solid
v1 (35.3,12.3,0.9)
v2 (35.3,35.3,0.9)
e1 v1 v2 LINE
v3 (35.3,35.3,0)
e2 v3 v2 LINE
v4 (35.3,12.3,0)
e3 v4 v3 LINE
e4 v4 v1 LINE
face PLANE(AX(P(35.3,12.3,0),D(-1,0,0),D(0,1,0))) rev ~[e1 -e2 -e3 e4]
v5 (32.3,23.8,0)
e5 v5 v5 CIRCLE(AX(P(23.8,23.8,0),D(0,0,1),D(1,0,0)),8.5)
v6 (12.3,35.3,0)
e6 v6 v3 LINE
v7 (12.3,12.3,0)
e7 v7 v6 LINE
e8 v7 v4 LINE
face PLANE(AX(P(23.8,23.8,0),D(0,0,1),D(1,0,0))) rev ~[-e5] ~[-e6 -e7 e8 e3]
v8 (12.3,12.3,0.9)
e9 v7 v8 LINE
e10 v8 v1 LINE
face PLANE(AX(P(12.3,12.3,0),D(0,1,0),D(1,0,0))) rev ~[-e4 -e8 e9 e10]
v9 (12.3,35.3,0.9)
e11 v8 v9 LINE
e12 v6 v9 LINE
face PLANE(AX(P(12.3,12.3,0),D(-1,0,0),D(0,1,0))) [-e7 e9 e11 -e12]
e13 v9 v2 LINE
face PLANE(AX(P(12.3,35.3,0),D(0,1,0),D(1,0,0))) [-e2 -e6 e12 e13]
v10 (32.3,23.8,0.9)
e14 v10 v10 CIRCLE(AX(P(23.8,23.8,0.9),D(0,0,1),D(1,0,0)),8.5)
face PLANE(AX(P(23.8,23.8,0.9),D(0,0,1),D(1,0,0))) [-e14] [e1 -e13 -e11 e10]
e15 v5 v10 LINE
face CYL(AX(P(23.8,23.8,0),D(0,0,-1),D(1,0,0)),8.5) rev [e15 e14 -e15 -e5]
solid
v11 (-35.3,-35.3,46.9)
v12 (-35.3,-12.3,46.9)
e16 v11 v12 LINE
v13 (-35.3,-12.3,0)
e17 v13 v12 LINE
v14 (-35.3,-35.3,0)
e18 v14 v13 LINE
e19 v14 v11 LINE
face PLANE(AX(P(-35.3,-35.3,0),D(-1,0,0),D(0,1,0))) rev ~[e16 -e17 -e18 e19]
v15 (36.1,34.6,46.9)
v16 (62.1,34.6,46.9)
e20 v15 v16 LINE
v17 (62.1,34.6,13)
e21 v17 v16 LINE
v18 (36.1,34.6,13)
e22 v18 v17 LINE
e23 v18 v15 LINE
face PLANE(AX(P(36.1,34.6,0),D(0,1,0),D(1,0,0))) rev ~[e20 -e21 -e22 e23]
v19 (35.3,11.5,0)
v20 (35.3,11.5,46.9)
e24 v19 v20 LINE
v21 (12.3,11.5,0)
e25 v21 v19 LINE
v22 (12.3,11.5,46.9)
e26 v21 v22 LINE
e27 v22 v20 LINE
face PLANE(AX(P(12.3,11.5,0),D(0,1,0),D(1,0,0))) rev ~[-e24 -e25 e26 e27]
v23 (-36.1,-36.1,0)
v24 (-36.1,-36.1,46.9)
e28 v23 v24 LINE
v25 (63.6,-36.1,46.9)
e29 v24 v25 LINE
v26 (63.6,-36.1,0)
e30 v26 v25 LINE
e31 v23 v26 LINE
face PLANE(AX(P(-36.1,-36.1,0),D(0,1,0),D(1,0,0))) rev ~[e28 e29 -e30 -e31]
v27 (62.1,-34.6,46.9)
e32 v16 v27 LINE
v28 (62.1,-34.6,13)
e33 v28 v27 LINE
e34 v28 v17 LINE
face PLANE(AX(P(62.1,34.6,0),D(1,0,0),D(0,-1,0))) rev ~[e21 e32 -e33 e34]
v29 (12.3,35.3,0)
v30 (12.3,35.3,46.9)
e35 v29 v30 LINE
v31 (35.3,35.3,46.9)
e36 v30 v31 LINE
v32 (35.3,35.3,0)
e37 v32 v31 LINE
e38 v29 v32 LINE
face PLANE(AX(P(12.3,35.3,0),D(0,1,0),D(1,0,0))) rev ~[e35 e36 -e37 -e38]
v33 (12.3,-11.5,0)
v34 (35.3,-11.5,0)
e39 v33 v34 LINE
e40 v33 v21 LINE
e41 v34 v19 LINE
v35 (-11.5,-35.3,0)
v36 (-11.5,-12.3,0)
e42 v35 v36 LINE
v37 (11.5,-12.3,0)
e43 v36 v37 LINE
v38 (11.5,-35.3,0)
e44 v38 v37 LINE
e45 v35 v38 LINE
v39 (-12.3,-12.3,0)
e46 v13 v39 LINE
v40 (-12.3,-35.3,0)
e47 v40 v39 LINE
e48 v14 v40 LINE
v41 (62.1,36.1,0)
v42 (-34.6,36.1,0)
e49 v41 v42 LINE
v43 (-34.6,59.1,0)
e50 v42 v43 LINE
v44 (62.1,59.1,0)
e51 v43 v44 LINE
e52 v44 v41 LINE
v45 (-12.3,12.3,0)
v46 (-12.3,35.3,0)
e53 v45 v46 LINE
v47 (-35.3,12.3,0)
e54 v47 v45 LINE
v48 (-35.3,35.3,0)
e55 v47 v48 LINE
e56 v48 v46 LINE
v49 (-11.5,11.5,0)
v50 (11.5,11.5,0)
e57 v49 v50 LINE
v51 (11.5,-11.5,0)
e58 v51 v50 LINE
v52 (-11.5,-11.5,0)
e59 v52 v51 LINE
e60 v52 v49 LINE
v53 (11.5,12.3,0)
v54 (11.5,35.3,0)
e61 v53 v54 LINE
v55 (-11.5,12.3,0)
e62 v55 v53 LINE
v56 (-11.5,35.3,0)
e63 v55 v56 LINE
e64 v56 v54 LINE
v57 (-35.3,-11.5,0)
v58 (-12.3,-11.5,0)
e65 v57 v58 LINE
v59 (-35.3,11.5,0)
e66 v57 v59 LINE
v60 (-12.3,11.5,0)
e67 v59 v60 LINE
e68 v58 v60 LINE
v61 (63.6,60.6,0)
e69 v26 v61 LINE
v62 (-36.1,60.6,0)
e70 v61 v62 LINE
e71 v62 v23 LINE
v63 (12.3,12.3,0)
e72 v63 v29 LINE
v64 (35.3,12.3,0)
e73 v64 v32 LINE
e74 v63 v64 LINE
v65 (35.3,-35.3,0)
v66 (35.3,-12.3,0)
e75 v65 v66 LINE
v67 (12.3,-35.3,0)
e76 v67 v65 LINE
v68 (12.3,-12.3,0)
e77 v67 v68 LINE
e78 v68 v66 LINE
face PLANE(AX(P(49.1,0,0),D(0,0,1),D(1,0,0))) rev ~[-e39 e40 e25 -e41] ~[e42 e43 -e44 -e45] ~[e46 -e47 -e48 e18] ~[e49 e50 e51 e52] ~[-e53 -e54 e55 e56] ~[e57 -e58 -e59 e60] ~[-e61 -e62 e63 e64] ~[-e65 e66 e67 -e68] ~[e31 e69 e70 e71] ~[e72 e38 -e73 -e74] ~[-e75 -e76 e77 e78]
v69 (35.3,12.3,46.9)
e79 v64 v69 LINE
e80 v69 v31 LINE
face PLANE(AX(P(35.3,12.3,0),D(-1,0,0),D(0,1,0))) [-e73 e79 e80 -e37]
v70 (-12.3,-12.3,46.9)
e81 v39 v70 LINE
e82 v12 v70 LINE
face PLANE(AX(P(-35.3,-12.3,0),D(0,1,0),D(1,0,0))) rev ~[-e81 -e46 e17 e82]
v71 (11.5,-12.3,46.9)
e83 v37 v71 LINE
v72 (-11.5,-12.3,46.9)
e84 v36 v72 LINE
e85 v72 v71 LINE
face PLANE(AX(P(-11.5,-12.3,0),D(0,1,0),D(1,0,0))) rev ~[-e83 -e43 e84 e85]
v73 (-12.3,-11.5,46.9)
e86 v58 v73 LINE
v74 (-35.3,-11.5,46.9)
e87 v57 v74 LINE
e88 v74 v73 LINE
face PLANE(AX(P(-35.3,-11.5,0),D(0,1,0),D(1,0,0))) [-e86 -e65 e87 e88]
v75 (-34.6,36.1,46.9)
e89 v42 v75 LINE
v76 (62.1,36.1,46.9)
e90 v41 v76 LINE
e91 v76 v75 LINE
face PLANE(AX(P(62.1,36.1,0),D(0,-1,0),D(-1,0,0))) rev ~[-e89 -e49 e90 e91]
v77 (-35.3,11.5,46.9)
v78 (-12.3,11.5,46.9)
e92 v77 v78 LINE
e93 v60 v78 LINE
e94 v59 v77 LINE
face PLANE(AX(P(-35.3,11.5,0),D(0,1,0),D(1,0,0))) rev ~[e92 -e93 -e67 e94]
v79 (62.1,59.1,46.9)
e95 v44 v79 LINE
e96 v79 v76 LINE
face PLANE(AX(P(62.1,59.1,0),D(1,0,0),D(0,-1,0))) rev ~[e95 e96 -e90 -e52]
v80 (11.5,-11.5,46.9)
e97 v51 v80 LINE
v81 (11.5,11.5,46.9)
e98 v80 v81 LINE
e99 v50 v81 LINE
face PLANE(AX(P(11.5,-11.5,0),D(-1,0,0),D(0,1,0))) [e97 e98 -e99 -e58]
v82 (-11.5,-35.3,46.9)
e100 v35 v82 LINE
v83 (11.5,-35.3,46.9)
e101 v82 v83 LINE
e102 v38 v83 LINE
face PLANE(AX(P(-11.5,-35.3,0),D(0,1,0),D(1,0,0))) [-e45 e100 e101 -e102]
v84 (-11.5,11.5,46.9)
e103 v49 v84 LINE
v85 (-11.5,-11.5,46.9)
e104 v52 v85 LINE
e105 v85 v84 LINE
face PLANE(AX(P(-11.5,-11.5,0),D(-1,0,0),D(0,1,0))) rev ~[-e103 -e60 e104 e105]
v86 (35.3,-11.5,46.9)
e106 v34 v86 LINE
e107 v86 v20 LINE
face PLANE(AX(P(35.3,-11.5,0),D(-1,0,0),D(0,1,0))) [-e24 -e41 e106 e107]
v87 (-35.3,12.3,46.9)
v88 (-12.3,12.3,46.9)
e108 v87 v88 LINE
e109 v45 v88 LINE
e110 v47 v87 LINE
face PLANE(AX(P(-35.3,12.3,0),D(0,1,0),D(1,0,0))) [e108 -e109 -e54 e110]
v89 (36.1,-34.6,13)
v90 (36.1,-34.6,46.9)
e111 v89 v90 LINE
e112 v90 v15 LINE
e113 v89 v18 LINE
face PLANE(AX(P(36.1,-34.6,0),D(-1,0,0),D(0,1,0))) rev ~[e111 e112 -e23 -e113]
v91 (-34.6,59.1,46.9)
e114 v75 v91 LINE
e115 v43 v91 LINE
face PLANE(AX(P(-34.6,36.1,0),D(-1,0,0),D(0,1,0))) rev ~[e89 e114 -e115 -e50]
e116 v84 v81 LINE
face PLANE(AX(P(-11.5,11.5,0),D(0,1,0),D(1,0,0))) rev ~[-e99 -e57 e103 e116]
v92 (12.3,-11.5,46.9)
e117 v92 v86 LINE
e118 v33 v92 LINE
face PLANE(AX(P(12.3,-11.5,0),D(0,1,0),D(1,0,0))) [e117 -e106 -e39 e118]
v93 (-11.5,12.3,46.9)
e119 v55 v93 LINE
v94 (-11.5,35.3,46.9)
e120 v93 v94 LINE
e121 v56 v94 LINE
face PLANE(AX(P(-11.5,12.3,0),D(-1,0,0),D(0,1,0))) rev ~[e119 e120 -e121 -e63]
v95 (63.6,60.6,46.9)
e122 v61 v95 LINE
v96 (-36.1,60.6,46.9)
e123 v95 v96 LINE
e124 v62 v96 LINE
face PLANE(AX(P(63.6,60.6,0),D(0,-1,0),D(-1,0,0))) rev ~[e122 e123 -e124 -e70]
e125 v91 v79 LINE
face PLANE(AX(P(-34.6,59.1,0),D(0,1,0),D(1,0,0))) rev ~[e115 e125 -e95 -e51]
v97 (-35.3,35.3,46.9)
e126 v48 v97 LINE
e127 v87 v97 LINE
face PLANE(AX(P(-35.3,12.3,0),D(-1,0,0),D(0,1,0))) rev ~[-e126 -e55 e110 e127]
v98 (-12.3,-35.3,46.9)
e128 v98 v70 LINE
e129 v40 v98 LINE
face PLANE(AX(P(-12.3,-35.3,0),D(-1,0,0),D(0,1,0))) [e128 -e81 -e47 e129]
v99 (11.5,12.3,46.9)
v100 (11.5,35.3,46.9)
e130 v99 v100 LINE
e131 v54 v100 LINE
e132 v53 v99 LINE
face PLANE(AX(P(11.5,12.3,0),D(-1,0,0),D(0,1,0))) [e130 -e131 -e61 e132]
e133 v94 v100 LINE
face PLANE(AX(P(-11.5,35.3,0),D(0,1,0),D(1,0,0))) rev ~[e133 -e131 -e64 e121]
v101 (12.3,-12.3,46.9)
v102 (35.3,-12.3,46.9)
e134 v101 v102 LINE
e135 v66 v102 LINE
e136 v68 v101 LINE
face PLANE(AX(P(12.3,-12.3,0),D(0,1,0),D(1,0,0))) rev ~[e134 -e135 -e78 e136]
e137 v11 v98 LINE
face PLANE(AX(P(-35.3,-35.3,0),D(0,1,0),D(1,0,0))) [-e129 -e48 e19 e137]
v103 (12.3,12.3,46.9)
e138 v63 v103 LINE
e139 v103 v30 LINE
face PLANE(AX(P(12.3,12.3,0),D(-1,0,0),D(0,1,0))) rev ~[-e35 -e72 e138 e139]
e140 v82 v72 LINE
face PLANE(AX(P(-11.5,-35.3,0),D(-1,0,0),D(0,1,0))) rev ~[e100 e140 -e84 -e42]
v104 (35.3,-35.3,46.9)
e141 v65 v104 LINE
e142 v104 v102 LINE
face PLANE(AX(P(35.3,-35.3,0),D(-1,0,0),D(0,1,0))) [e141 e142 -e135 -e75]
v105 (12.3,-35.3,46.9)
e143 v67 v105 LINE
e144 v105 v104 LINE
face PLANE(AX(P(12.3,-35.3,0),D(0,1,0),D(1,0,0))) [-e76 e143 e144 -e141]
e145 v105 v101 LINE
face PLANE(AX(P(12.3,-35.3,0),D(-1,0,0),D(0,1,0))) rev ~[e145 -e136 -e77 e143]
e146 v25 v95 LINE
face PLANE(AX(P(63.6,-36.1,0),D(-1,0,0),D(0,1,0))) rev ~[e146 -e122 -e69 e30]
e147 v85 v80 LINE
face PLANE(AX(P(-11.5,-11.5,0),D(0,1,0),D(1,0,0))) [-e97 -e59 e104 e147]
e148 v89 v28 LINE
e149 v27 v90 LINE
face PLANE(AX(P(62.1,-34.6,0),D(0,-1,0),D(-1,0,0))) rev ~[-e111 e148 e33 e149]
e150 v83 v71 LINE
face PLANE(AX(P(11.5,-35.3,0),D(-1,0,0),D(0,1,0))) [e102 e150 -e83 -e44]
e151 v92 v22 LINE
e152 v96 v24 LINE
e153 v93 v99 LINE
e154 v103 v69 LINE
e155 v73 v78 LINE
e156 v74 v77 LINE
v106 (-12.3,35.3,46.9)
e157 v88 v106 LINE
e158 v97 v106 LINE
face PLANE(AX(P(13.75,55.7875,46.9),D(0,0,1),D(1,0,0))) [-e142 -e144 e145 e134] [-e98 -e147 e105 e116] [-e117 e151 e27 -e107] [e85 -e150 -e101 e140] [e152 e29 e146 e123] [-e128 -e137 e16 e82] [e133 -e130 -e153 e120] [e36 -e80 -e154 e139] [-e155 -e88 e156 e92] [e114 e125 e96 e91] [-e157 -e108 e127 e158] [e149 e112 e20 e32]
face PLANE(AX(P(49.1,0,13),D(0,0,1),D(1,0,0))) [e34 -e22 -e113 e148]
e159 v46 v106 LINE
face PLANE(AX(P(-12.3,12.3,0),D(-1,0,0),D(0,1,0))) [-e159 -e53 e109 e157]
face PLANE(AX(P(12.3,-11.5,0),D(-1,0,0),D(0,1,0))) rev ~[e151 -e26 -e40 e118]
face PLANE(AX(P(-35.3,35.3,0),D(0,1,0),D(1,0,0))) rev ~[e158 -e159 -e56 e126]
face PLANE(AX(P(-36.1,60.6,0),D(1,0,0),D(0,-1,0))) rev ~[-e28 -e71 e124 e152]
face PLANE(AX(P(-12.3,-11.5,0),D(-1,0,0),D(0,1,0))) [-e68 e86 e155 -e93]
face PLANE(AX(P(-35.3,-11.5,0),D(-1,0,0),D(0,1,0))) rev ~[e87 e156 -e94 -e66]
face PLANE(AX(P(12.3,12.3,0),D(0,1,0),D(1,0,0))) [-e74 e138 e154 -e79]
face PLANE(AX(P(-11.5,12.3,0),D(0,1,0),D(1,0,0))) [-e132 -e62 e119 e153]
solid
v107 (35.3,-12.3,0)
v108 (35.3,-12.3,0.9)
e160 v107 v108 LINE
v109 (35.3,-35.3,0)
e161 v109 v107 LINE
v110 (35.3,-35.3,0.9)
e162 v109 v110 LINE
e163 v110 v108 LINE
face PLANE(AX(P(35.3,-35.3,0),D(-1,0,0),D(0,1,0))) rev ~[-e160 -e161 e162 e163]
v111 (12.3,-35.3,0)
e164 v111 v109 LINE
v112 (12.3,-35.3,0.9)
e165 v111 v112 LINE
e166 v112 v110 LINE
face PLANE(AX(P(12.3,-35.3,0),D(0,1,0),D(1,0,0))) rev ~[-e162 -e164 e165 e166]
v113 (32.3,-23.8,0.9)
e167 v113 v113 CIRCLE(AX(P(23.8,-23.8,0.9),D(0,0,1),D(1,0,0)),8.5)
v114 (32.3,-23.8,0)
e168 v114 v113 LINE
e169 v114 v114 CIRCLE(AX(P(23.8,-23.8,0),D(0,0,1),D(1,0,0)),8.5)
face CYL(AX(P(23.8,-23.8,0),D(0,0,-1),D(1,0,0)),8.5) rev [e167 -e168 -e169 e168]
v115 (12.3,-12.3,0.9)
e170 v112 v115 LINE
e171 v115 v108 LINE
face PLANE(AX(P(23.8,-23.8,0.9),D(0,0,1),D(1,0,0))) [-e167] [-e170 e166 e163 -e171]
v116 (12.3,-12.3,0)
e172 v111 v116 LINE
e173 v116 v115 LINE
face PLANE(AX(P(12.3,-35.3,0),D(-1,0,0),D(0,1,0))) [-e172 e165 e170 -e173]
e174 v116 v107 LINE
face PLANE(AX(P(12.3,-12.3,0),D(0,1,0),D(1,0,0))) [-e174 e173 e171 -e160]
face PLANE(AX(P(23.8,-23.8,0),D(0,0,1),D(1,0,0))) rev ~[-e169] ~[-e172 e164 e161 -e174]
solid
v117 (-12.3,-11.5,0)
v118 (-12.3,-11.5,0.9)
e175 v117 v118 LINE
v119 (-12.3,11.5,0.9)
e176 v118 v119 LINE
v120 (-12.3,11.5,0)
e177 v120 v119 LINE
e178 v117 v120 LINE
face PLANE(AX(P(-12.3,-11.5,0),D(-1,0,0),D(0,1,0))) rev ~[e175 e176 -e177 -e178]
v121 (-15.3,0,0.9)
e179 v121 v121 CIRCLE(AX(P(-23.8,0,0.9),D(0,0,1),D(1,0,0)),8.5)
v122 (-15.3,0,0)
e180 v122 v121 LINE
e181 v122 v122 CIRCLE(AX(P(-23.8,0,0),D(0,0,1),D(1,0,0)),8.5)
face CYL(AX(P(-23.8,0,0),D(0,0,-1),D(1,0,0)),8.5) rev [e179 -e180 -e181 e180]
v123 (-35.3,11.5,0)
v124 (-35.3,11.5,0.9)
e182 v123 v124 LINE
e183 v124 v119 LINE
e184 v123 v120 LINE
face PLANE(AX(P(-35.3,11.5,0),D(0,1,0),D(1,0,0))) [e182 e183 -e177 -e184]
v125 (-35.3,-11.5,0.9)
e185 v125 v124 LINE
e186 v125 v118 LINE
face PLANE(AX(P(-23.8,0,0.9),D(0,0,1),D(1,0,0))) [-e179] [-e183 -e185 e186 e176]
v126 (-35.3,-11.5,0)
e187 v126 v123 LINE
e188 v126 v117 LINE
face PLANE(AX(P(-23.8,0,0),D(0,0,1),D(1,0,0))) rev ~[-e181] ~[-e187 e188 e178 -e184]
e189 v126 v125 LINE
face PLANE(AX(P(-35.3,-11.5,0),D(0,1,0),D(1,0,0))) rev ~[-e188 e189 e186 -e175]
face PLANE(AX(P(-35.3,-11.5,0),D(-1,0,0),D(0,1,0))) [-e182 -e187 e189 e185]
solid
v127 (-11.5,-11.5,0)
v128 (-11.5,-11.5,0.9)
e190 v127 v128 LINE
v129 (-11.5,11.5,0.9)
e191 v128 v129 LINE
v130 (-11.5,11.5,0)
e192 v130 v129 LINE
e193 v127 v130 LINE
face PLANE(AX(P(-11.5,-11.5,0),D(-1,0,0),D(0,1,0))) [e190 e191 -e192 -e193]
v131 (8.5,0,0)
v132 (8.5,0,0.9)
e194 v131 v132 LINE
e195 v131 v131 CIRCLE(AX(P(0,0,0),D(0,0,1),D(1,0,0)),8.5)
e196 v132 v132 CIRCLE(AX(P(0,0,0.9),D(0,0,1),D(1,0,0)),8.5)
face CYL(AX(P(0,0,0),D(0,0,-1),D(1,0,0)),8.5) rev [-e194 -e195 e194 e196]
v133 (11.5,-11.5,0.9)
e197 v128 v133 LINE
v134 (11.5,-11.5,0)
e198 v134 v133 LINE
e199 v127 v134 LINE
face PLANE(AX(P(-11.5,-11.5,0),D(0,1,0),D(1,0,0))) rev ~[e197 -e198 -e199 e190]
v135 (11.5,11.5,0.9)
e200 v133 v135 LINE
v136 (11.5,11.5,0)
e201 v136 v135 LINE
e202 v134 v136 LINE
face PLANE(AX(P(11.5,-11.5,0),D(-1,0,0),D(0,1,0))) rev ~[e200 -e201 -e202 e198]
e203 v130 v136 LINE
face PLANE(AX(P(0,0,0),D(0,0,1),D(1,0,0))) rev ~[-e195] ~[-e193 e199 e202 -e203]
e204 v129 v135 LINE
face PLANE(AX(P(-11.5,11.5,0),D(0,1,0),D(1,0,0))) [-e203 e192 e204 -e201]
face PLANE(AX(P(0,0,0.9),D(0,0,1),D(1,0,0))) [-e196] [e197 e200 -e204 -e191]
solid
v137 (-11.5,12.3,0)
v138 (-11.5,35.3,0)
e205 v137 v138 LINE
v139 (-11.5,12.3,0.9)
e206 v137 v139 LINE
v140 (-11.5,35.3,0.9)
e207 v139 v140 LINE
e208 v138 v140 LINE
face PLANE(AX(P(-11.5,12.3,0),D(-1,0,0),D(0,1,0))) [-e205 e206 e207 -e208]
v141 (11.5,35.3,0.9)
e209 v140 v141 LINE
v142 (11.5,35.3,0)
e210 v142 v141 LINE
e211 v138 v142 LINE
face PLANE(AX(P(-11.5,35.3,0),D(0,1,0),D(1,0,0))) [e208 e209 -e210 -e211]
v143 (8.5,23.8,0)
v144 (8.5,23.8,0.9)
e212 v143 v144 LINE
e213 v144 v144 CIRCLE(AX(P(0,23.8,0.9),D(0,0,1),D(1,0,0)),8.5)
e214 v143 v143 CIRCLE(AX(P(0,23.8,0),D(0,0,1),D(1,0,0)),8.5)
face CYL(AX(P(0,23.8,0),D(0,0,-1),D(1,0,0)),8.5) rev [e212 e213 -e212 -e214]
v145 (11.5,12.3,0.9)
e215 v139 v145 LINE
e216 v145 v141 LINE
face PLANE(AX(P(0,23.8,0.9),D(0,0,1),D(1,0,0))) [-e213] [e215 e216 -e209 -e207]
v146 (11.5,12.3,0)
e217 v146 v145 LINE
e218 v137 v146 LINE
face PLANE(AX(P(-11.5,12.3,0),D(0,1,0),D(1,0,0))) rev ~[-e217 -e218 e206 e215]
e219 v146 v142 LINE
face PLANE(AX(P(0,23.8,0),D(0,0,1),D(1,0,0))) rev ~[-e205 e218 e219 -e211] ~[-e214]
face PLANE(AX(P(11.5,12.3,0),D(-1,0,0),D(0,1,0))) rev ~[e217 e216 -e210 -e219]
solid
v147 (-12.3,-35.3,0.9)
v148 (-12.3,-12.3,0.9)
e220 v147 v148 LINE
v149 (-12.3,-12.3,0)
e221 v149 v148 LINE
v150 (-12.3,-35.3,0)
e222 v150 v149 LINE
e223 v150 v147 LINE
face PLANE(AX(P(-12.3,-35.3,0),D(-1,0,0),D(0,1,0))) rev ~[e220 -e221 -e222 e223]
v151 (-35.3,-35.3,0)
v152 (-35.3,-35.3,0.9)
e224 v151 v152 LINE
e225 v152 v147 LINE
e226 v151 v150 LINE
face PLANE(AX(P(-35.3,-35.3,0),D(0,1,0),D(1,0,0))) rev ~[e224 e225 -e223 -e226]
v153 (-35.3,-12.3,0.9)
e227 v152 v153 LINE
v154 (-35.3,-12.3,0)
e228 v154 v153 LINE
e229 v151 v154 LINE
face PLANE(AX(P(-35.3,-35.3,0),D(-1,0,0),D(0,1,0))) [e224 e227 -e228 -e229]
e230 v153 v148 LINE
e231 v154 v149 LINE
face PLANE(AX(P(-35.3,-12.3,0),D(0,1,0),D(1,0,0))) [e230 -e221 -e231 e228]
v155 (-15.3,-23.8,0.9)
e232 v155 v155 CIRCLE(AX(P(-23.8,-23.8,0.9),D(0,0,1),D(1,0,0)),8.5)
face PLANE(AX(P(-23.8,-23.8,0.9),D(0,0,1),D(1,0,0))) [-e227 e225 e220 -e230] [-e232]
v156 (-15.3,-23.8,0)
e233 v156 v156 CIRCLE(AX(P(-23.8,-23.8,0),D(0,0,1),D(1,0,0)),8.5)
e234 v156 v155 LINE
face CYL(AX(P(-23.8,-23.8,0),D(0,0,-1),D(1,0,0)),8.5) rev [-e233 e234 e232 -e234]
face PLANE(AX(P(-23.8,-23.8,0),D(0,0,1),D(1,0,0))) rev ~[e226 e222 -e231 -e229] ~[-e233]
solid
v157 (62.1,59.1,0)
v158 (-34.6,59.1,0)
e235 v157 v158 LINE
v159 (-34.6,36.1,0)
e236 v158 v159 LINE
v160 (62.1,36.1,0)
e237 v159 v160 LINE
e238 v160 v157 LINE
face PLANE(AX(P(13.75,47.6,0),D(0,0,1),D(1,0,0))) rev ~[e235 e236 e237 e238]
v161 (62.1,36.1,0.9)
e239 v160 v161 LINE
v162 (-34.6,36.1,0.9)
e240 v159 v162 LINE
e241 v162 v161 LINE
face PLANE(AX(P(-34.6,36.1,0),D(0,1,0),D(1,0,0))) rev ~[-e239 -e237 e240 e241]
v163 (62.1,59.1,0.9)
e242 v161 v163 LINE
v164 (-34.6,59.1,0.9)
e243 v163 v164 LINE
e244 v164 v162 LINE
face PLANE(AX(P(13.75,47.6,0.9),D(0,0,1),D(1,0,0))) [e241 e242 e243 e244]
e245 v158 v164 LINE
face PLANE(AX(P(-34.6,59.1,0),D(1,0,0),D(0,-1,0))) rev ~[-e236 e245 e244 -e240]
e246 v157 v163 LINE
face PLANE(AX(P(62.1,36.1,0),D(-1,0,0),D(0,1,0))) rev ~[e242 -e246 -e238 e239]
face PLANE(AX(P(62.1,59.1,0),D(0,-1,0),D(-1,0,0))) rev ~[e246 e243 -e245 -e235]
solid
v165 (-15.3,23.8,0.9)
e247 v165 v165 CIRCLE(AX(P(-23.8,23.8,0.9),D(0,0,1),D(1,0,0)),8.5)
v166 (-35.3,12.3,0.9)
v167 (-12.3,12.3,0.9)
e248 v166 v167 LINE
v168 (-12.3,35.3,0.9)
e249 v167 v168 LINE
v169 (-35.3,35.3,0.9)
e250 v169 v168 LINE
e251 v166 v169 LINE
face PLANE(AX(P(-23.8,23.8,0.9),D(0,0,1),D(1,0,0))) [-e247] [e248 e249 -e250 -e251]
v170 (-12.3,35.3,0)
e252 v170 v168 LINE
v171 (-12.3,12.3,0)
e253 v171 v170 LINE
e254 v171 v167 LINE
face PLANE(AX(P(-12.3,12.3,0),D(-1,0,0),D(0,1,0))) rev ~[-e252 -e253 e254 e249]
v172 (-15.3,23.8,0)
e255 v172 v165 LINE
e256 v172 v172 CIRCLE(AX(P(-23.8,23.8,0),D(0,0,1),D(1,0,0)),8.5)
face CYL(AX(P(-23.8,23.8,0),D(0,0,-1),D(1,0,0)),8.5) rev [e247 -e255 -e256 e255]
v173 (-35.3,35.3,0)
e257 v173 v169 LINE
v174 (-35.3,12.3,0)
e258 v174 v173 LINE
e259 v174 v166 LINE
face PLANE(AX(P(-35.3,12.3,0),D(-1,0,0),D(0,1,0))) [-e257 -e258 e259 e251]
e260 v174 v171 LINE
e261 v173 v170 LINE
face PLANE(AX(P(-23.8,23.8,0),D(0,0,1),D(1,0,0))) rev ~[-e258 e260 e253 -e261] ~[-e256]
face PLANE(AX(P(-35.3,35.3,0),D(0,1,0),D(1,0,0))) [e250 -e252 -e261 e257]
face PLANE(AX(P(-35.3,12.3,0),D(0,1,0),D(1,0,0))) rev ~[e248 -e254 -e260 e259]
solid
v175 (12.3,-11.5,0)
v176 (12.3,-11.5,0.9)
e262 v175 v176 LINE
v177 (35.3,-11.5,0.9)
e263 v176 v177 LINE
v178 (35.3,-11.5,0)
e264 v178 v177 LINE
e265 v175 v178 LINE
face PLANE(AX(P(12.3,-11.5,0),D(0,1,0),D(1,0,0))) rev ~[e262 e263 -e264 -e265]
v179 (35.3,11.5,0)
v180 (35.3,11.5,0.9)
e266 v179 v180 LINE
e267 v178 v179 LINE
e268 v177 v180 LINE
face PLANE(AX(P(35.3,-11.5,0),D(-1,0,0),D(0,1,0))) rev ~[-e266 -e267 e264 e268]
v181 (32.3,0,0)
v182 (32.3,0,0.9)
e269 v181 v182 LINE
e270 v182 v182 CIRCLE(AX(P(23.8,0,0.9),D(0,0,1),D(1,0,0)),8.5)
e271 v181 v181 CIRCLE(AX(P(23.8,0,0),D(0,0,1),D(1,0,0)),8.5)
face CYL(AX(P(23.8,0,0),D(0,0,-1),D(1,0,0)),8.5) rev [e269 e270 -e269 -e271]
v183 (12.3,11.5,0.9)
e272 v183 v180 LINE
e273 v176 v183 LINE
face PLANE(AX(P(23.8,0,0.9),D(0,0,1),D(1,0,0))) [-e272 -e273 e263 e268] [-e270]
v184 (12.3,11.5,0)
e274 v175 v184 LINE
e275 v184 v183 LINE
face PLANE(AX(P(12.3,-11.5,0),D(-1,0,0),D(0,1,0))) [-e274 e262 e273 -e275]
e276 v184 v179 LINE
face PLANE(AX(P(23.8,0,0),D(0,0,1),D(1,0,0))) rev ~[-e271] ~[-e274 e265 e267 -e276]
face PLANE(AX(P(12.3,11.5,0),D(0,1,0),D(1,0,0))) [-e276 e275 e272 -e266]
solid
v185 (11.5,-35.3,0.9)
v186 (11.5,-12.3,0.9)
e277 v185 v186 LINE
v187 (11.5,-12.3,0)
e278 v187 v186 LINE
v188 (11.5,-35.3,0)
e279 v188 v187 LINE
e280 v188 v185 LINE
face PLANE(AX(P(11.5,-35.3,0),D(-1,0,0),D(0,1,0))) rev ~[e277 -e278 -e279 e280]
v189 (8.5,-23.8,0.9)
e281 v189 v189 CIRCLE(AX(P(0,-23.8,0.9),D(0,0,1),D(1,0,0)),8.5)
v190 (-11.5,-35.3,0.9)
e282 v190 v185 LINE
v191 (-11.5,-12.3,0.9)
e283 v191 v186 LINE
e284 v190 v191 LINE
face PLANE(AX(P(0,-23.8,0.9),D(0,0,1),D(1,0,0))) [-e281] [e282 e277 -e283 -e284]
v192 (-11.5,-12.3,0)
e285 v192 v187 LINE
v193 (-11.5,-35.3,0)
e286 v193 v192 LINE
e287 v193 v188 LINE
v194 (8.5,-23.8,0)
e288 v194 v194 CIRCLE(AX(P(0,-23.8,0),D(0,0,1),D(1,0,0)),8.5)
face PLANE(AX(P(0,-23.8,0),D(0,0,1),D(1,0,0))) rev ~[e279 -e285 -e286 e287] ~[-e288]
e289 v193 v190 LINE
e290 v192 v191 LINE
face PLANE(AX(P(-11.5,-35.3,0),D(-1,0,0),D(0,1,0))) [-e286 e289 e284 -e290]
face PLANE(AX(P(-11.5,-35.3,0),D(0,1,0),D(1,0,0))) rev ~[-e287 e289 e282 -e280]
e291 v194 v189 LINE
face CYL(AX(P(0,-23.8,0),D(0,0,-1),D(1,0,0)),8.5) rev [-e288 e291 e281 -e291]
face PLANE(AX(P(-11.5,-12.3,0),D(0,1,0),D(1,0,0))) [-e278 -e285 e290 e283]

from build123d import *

# Parameters (mm, degrees)
F0_W     = 23
F0_H     = 23
F0_R     = 8.5
F1_DEPTH = 0.9
F2_DEPTH = 46.9
F0_W_2   = 26
F0_H_2   = 69.2
F3_DEPTH = 13


with BuildPart() as f1:
    # F0 (on Top) → F1 (new body)
    with BuildSketch(Plane.XY):
        with Locations((-23.8, 23.8)):
            Rectangle(F0_W, F0_H)
        with Locations((-23.8, 23.8)):
            Circle(F0_R, mode=Mode.SUBTRACT)
        with Locations((0, 23.8)):
            Rectangle(F0_W, F0_H)
        with Locations((0, 23.8)):
            Circle(F0_R, mode=Mode.SUBTRACT)
        with Locations((23.8, 23.8)):
            Rectangle(F0_W, F0_H)
        with Locations((23.8, 23.8)):
            Circle(F0_R, mode=Mode.SUBTRACT)
        with Locations((23.8, 0)):
            Rectangle(F0_W, F0_H)
        with Locations((23.8, 0)):
            Circle(F0_R, mode=Mode.SUBTRACT)
        Rectangle(F0_W, F0_H)
        Circle(F0_R, mode=Mode.SUBTRACT)
        with Locations((-23.8, 0)):
            Rectangle(F0_W, F0_H)
        with Locations((-23.8, 0)):
            Circle(F0_R, mode=Mode.SUBTRACT)
        with Locations((-23.8, -23.8)):
            Rectangle(F0_W, F0_H)
        with Locations((-23.8, -23.8)):
            Circle(F0_R, mode=Mode.SUBTRACT)
        with Locations((0, -23.8)):
            Rectangle(F0_W, F0_H)
        with Locations((0, -23.8)):
            Circle(F0_R, mode=Mode.SUBTRACT)
        with Locations((23.8, -23.8)):
            Rectangle(F0_W, F0_H)
        with Locations((23.8, -23.8)):
            Circle(F0_R, mode=Mode.SUBTRACT)
        Polygon((-34.6, 36.9), (-34.6, 36.1), (36.1, 36.1), (62.1, 36.1), (62.1, 36.9), (62.1, 59.1), (-34.6, 59.1), align=None)
    extrude(amount=F1_DEPTH)


with BuildPart() as f2:
    # F0 (on Top) → F2 (new body)
    with BuildSketch(Plane.XY):
        Polygon((-36.1, 60.6), (-36.1, 36.1), (-34.6, 36.1), (-34.6, 36.9), (-34.6, 59.1), (62.1, 59.1), (62.1, 36.9), (62.1, 36.1), (63.6, 36.1), (63.6, 60.6), align=None)
        Polygon((36.1, -34.6), (36.1, -36.1), (63.6, -36.1), (63.6, 36.1), (62.1, 36.1), (36.1, 36.1), (36.1, 34.6), (62.1, 34.6), (62.1, -34.6), align=None)
        Polygon((-34.6, 36.1), (-36.1, 36.1), (-36.1, -36.1), (36.1, -36.1), (36.1, -34.6), (36.1, 34.6), (36.1, 36.1), align=None)
        with Locations((-23.8, -23.8)):
            Rectangle(F0_W, F0_H, mode=Mode.SUBTRACT)
        with Locations((0, -23.8)):
            Rectangle(F0_W, F0_H, mode=Mode.SUBTRACT)
        with Locations((-23.8, 0)):
            Rectangle(F0_W, F0_H, mode=Mode.SUBTRACT)
        Rectangle(F0_W, F0_H, mode=Mode.SUBTRACT)
        with Locations((23.8, -23.8)):
            Rectangle(F0_W, F0_H, mode=Mode.SUBTRACT)
        with Locations((23.8, 0)):
            Rectangle(F0_W, F0_H, mode=Mode.SUBTRACT)
        with Locations((-23.8, 23.8)):
            Rectangle(F0_W, F0_H, mode=Mode.SUBTRACT)
        with Locations((0, 23.8)):
            Rectangle(F0_W, F0_H, mode=Mode.SUBTRACT)
        with Locations((23.8, 23.8)):
            Rectangle(F0_W, F0_H, mode=Mode.SUBTRACT)
    extrude(amount=F2_DEPTH)

    # F0 (on Top) → F3 (join)
    with BuildSketch(Plane.XY):
        with Locations((49.1, 0)):
            Rectangle(F0_W_2, F0_H_2)
    extrude(amount=F3_DEPTH)


solid = Compound([f1.part, f2.part])
